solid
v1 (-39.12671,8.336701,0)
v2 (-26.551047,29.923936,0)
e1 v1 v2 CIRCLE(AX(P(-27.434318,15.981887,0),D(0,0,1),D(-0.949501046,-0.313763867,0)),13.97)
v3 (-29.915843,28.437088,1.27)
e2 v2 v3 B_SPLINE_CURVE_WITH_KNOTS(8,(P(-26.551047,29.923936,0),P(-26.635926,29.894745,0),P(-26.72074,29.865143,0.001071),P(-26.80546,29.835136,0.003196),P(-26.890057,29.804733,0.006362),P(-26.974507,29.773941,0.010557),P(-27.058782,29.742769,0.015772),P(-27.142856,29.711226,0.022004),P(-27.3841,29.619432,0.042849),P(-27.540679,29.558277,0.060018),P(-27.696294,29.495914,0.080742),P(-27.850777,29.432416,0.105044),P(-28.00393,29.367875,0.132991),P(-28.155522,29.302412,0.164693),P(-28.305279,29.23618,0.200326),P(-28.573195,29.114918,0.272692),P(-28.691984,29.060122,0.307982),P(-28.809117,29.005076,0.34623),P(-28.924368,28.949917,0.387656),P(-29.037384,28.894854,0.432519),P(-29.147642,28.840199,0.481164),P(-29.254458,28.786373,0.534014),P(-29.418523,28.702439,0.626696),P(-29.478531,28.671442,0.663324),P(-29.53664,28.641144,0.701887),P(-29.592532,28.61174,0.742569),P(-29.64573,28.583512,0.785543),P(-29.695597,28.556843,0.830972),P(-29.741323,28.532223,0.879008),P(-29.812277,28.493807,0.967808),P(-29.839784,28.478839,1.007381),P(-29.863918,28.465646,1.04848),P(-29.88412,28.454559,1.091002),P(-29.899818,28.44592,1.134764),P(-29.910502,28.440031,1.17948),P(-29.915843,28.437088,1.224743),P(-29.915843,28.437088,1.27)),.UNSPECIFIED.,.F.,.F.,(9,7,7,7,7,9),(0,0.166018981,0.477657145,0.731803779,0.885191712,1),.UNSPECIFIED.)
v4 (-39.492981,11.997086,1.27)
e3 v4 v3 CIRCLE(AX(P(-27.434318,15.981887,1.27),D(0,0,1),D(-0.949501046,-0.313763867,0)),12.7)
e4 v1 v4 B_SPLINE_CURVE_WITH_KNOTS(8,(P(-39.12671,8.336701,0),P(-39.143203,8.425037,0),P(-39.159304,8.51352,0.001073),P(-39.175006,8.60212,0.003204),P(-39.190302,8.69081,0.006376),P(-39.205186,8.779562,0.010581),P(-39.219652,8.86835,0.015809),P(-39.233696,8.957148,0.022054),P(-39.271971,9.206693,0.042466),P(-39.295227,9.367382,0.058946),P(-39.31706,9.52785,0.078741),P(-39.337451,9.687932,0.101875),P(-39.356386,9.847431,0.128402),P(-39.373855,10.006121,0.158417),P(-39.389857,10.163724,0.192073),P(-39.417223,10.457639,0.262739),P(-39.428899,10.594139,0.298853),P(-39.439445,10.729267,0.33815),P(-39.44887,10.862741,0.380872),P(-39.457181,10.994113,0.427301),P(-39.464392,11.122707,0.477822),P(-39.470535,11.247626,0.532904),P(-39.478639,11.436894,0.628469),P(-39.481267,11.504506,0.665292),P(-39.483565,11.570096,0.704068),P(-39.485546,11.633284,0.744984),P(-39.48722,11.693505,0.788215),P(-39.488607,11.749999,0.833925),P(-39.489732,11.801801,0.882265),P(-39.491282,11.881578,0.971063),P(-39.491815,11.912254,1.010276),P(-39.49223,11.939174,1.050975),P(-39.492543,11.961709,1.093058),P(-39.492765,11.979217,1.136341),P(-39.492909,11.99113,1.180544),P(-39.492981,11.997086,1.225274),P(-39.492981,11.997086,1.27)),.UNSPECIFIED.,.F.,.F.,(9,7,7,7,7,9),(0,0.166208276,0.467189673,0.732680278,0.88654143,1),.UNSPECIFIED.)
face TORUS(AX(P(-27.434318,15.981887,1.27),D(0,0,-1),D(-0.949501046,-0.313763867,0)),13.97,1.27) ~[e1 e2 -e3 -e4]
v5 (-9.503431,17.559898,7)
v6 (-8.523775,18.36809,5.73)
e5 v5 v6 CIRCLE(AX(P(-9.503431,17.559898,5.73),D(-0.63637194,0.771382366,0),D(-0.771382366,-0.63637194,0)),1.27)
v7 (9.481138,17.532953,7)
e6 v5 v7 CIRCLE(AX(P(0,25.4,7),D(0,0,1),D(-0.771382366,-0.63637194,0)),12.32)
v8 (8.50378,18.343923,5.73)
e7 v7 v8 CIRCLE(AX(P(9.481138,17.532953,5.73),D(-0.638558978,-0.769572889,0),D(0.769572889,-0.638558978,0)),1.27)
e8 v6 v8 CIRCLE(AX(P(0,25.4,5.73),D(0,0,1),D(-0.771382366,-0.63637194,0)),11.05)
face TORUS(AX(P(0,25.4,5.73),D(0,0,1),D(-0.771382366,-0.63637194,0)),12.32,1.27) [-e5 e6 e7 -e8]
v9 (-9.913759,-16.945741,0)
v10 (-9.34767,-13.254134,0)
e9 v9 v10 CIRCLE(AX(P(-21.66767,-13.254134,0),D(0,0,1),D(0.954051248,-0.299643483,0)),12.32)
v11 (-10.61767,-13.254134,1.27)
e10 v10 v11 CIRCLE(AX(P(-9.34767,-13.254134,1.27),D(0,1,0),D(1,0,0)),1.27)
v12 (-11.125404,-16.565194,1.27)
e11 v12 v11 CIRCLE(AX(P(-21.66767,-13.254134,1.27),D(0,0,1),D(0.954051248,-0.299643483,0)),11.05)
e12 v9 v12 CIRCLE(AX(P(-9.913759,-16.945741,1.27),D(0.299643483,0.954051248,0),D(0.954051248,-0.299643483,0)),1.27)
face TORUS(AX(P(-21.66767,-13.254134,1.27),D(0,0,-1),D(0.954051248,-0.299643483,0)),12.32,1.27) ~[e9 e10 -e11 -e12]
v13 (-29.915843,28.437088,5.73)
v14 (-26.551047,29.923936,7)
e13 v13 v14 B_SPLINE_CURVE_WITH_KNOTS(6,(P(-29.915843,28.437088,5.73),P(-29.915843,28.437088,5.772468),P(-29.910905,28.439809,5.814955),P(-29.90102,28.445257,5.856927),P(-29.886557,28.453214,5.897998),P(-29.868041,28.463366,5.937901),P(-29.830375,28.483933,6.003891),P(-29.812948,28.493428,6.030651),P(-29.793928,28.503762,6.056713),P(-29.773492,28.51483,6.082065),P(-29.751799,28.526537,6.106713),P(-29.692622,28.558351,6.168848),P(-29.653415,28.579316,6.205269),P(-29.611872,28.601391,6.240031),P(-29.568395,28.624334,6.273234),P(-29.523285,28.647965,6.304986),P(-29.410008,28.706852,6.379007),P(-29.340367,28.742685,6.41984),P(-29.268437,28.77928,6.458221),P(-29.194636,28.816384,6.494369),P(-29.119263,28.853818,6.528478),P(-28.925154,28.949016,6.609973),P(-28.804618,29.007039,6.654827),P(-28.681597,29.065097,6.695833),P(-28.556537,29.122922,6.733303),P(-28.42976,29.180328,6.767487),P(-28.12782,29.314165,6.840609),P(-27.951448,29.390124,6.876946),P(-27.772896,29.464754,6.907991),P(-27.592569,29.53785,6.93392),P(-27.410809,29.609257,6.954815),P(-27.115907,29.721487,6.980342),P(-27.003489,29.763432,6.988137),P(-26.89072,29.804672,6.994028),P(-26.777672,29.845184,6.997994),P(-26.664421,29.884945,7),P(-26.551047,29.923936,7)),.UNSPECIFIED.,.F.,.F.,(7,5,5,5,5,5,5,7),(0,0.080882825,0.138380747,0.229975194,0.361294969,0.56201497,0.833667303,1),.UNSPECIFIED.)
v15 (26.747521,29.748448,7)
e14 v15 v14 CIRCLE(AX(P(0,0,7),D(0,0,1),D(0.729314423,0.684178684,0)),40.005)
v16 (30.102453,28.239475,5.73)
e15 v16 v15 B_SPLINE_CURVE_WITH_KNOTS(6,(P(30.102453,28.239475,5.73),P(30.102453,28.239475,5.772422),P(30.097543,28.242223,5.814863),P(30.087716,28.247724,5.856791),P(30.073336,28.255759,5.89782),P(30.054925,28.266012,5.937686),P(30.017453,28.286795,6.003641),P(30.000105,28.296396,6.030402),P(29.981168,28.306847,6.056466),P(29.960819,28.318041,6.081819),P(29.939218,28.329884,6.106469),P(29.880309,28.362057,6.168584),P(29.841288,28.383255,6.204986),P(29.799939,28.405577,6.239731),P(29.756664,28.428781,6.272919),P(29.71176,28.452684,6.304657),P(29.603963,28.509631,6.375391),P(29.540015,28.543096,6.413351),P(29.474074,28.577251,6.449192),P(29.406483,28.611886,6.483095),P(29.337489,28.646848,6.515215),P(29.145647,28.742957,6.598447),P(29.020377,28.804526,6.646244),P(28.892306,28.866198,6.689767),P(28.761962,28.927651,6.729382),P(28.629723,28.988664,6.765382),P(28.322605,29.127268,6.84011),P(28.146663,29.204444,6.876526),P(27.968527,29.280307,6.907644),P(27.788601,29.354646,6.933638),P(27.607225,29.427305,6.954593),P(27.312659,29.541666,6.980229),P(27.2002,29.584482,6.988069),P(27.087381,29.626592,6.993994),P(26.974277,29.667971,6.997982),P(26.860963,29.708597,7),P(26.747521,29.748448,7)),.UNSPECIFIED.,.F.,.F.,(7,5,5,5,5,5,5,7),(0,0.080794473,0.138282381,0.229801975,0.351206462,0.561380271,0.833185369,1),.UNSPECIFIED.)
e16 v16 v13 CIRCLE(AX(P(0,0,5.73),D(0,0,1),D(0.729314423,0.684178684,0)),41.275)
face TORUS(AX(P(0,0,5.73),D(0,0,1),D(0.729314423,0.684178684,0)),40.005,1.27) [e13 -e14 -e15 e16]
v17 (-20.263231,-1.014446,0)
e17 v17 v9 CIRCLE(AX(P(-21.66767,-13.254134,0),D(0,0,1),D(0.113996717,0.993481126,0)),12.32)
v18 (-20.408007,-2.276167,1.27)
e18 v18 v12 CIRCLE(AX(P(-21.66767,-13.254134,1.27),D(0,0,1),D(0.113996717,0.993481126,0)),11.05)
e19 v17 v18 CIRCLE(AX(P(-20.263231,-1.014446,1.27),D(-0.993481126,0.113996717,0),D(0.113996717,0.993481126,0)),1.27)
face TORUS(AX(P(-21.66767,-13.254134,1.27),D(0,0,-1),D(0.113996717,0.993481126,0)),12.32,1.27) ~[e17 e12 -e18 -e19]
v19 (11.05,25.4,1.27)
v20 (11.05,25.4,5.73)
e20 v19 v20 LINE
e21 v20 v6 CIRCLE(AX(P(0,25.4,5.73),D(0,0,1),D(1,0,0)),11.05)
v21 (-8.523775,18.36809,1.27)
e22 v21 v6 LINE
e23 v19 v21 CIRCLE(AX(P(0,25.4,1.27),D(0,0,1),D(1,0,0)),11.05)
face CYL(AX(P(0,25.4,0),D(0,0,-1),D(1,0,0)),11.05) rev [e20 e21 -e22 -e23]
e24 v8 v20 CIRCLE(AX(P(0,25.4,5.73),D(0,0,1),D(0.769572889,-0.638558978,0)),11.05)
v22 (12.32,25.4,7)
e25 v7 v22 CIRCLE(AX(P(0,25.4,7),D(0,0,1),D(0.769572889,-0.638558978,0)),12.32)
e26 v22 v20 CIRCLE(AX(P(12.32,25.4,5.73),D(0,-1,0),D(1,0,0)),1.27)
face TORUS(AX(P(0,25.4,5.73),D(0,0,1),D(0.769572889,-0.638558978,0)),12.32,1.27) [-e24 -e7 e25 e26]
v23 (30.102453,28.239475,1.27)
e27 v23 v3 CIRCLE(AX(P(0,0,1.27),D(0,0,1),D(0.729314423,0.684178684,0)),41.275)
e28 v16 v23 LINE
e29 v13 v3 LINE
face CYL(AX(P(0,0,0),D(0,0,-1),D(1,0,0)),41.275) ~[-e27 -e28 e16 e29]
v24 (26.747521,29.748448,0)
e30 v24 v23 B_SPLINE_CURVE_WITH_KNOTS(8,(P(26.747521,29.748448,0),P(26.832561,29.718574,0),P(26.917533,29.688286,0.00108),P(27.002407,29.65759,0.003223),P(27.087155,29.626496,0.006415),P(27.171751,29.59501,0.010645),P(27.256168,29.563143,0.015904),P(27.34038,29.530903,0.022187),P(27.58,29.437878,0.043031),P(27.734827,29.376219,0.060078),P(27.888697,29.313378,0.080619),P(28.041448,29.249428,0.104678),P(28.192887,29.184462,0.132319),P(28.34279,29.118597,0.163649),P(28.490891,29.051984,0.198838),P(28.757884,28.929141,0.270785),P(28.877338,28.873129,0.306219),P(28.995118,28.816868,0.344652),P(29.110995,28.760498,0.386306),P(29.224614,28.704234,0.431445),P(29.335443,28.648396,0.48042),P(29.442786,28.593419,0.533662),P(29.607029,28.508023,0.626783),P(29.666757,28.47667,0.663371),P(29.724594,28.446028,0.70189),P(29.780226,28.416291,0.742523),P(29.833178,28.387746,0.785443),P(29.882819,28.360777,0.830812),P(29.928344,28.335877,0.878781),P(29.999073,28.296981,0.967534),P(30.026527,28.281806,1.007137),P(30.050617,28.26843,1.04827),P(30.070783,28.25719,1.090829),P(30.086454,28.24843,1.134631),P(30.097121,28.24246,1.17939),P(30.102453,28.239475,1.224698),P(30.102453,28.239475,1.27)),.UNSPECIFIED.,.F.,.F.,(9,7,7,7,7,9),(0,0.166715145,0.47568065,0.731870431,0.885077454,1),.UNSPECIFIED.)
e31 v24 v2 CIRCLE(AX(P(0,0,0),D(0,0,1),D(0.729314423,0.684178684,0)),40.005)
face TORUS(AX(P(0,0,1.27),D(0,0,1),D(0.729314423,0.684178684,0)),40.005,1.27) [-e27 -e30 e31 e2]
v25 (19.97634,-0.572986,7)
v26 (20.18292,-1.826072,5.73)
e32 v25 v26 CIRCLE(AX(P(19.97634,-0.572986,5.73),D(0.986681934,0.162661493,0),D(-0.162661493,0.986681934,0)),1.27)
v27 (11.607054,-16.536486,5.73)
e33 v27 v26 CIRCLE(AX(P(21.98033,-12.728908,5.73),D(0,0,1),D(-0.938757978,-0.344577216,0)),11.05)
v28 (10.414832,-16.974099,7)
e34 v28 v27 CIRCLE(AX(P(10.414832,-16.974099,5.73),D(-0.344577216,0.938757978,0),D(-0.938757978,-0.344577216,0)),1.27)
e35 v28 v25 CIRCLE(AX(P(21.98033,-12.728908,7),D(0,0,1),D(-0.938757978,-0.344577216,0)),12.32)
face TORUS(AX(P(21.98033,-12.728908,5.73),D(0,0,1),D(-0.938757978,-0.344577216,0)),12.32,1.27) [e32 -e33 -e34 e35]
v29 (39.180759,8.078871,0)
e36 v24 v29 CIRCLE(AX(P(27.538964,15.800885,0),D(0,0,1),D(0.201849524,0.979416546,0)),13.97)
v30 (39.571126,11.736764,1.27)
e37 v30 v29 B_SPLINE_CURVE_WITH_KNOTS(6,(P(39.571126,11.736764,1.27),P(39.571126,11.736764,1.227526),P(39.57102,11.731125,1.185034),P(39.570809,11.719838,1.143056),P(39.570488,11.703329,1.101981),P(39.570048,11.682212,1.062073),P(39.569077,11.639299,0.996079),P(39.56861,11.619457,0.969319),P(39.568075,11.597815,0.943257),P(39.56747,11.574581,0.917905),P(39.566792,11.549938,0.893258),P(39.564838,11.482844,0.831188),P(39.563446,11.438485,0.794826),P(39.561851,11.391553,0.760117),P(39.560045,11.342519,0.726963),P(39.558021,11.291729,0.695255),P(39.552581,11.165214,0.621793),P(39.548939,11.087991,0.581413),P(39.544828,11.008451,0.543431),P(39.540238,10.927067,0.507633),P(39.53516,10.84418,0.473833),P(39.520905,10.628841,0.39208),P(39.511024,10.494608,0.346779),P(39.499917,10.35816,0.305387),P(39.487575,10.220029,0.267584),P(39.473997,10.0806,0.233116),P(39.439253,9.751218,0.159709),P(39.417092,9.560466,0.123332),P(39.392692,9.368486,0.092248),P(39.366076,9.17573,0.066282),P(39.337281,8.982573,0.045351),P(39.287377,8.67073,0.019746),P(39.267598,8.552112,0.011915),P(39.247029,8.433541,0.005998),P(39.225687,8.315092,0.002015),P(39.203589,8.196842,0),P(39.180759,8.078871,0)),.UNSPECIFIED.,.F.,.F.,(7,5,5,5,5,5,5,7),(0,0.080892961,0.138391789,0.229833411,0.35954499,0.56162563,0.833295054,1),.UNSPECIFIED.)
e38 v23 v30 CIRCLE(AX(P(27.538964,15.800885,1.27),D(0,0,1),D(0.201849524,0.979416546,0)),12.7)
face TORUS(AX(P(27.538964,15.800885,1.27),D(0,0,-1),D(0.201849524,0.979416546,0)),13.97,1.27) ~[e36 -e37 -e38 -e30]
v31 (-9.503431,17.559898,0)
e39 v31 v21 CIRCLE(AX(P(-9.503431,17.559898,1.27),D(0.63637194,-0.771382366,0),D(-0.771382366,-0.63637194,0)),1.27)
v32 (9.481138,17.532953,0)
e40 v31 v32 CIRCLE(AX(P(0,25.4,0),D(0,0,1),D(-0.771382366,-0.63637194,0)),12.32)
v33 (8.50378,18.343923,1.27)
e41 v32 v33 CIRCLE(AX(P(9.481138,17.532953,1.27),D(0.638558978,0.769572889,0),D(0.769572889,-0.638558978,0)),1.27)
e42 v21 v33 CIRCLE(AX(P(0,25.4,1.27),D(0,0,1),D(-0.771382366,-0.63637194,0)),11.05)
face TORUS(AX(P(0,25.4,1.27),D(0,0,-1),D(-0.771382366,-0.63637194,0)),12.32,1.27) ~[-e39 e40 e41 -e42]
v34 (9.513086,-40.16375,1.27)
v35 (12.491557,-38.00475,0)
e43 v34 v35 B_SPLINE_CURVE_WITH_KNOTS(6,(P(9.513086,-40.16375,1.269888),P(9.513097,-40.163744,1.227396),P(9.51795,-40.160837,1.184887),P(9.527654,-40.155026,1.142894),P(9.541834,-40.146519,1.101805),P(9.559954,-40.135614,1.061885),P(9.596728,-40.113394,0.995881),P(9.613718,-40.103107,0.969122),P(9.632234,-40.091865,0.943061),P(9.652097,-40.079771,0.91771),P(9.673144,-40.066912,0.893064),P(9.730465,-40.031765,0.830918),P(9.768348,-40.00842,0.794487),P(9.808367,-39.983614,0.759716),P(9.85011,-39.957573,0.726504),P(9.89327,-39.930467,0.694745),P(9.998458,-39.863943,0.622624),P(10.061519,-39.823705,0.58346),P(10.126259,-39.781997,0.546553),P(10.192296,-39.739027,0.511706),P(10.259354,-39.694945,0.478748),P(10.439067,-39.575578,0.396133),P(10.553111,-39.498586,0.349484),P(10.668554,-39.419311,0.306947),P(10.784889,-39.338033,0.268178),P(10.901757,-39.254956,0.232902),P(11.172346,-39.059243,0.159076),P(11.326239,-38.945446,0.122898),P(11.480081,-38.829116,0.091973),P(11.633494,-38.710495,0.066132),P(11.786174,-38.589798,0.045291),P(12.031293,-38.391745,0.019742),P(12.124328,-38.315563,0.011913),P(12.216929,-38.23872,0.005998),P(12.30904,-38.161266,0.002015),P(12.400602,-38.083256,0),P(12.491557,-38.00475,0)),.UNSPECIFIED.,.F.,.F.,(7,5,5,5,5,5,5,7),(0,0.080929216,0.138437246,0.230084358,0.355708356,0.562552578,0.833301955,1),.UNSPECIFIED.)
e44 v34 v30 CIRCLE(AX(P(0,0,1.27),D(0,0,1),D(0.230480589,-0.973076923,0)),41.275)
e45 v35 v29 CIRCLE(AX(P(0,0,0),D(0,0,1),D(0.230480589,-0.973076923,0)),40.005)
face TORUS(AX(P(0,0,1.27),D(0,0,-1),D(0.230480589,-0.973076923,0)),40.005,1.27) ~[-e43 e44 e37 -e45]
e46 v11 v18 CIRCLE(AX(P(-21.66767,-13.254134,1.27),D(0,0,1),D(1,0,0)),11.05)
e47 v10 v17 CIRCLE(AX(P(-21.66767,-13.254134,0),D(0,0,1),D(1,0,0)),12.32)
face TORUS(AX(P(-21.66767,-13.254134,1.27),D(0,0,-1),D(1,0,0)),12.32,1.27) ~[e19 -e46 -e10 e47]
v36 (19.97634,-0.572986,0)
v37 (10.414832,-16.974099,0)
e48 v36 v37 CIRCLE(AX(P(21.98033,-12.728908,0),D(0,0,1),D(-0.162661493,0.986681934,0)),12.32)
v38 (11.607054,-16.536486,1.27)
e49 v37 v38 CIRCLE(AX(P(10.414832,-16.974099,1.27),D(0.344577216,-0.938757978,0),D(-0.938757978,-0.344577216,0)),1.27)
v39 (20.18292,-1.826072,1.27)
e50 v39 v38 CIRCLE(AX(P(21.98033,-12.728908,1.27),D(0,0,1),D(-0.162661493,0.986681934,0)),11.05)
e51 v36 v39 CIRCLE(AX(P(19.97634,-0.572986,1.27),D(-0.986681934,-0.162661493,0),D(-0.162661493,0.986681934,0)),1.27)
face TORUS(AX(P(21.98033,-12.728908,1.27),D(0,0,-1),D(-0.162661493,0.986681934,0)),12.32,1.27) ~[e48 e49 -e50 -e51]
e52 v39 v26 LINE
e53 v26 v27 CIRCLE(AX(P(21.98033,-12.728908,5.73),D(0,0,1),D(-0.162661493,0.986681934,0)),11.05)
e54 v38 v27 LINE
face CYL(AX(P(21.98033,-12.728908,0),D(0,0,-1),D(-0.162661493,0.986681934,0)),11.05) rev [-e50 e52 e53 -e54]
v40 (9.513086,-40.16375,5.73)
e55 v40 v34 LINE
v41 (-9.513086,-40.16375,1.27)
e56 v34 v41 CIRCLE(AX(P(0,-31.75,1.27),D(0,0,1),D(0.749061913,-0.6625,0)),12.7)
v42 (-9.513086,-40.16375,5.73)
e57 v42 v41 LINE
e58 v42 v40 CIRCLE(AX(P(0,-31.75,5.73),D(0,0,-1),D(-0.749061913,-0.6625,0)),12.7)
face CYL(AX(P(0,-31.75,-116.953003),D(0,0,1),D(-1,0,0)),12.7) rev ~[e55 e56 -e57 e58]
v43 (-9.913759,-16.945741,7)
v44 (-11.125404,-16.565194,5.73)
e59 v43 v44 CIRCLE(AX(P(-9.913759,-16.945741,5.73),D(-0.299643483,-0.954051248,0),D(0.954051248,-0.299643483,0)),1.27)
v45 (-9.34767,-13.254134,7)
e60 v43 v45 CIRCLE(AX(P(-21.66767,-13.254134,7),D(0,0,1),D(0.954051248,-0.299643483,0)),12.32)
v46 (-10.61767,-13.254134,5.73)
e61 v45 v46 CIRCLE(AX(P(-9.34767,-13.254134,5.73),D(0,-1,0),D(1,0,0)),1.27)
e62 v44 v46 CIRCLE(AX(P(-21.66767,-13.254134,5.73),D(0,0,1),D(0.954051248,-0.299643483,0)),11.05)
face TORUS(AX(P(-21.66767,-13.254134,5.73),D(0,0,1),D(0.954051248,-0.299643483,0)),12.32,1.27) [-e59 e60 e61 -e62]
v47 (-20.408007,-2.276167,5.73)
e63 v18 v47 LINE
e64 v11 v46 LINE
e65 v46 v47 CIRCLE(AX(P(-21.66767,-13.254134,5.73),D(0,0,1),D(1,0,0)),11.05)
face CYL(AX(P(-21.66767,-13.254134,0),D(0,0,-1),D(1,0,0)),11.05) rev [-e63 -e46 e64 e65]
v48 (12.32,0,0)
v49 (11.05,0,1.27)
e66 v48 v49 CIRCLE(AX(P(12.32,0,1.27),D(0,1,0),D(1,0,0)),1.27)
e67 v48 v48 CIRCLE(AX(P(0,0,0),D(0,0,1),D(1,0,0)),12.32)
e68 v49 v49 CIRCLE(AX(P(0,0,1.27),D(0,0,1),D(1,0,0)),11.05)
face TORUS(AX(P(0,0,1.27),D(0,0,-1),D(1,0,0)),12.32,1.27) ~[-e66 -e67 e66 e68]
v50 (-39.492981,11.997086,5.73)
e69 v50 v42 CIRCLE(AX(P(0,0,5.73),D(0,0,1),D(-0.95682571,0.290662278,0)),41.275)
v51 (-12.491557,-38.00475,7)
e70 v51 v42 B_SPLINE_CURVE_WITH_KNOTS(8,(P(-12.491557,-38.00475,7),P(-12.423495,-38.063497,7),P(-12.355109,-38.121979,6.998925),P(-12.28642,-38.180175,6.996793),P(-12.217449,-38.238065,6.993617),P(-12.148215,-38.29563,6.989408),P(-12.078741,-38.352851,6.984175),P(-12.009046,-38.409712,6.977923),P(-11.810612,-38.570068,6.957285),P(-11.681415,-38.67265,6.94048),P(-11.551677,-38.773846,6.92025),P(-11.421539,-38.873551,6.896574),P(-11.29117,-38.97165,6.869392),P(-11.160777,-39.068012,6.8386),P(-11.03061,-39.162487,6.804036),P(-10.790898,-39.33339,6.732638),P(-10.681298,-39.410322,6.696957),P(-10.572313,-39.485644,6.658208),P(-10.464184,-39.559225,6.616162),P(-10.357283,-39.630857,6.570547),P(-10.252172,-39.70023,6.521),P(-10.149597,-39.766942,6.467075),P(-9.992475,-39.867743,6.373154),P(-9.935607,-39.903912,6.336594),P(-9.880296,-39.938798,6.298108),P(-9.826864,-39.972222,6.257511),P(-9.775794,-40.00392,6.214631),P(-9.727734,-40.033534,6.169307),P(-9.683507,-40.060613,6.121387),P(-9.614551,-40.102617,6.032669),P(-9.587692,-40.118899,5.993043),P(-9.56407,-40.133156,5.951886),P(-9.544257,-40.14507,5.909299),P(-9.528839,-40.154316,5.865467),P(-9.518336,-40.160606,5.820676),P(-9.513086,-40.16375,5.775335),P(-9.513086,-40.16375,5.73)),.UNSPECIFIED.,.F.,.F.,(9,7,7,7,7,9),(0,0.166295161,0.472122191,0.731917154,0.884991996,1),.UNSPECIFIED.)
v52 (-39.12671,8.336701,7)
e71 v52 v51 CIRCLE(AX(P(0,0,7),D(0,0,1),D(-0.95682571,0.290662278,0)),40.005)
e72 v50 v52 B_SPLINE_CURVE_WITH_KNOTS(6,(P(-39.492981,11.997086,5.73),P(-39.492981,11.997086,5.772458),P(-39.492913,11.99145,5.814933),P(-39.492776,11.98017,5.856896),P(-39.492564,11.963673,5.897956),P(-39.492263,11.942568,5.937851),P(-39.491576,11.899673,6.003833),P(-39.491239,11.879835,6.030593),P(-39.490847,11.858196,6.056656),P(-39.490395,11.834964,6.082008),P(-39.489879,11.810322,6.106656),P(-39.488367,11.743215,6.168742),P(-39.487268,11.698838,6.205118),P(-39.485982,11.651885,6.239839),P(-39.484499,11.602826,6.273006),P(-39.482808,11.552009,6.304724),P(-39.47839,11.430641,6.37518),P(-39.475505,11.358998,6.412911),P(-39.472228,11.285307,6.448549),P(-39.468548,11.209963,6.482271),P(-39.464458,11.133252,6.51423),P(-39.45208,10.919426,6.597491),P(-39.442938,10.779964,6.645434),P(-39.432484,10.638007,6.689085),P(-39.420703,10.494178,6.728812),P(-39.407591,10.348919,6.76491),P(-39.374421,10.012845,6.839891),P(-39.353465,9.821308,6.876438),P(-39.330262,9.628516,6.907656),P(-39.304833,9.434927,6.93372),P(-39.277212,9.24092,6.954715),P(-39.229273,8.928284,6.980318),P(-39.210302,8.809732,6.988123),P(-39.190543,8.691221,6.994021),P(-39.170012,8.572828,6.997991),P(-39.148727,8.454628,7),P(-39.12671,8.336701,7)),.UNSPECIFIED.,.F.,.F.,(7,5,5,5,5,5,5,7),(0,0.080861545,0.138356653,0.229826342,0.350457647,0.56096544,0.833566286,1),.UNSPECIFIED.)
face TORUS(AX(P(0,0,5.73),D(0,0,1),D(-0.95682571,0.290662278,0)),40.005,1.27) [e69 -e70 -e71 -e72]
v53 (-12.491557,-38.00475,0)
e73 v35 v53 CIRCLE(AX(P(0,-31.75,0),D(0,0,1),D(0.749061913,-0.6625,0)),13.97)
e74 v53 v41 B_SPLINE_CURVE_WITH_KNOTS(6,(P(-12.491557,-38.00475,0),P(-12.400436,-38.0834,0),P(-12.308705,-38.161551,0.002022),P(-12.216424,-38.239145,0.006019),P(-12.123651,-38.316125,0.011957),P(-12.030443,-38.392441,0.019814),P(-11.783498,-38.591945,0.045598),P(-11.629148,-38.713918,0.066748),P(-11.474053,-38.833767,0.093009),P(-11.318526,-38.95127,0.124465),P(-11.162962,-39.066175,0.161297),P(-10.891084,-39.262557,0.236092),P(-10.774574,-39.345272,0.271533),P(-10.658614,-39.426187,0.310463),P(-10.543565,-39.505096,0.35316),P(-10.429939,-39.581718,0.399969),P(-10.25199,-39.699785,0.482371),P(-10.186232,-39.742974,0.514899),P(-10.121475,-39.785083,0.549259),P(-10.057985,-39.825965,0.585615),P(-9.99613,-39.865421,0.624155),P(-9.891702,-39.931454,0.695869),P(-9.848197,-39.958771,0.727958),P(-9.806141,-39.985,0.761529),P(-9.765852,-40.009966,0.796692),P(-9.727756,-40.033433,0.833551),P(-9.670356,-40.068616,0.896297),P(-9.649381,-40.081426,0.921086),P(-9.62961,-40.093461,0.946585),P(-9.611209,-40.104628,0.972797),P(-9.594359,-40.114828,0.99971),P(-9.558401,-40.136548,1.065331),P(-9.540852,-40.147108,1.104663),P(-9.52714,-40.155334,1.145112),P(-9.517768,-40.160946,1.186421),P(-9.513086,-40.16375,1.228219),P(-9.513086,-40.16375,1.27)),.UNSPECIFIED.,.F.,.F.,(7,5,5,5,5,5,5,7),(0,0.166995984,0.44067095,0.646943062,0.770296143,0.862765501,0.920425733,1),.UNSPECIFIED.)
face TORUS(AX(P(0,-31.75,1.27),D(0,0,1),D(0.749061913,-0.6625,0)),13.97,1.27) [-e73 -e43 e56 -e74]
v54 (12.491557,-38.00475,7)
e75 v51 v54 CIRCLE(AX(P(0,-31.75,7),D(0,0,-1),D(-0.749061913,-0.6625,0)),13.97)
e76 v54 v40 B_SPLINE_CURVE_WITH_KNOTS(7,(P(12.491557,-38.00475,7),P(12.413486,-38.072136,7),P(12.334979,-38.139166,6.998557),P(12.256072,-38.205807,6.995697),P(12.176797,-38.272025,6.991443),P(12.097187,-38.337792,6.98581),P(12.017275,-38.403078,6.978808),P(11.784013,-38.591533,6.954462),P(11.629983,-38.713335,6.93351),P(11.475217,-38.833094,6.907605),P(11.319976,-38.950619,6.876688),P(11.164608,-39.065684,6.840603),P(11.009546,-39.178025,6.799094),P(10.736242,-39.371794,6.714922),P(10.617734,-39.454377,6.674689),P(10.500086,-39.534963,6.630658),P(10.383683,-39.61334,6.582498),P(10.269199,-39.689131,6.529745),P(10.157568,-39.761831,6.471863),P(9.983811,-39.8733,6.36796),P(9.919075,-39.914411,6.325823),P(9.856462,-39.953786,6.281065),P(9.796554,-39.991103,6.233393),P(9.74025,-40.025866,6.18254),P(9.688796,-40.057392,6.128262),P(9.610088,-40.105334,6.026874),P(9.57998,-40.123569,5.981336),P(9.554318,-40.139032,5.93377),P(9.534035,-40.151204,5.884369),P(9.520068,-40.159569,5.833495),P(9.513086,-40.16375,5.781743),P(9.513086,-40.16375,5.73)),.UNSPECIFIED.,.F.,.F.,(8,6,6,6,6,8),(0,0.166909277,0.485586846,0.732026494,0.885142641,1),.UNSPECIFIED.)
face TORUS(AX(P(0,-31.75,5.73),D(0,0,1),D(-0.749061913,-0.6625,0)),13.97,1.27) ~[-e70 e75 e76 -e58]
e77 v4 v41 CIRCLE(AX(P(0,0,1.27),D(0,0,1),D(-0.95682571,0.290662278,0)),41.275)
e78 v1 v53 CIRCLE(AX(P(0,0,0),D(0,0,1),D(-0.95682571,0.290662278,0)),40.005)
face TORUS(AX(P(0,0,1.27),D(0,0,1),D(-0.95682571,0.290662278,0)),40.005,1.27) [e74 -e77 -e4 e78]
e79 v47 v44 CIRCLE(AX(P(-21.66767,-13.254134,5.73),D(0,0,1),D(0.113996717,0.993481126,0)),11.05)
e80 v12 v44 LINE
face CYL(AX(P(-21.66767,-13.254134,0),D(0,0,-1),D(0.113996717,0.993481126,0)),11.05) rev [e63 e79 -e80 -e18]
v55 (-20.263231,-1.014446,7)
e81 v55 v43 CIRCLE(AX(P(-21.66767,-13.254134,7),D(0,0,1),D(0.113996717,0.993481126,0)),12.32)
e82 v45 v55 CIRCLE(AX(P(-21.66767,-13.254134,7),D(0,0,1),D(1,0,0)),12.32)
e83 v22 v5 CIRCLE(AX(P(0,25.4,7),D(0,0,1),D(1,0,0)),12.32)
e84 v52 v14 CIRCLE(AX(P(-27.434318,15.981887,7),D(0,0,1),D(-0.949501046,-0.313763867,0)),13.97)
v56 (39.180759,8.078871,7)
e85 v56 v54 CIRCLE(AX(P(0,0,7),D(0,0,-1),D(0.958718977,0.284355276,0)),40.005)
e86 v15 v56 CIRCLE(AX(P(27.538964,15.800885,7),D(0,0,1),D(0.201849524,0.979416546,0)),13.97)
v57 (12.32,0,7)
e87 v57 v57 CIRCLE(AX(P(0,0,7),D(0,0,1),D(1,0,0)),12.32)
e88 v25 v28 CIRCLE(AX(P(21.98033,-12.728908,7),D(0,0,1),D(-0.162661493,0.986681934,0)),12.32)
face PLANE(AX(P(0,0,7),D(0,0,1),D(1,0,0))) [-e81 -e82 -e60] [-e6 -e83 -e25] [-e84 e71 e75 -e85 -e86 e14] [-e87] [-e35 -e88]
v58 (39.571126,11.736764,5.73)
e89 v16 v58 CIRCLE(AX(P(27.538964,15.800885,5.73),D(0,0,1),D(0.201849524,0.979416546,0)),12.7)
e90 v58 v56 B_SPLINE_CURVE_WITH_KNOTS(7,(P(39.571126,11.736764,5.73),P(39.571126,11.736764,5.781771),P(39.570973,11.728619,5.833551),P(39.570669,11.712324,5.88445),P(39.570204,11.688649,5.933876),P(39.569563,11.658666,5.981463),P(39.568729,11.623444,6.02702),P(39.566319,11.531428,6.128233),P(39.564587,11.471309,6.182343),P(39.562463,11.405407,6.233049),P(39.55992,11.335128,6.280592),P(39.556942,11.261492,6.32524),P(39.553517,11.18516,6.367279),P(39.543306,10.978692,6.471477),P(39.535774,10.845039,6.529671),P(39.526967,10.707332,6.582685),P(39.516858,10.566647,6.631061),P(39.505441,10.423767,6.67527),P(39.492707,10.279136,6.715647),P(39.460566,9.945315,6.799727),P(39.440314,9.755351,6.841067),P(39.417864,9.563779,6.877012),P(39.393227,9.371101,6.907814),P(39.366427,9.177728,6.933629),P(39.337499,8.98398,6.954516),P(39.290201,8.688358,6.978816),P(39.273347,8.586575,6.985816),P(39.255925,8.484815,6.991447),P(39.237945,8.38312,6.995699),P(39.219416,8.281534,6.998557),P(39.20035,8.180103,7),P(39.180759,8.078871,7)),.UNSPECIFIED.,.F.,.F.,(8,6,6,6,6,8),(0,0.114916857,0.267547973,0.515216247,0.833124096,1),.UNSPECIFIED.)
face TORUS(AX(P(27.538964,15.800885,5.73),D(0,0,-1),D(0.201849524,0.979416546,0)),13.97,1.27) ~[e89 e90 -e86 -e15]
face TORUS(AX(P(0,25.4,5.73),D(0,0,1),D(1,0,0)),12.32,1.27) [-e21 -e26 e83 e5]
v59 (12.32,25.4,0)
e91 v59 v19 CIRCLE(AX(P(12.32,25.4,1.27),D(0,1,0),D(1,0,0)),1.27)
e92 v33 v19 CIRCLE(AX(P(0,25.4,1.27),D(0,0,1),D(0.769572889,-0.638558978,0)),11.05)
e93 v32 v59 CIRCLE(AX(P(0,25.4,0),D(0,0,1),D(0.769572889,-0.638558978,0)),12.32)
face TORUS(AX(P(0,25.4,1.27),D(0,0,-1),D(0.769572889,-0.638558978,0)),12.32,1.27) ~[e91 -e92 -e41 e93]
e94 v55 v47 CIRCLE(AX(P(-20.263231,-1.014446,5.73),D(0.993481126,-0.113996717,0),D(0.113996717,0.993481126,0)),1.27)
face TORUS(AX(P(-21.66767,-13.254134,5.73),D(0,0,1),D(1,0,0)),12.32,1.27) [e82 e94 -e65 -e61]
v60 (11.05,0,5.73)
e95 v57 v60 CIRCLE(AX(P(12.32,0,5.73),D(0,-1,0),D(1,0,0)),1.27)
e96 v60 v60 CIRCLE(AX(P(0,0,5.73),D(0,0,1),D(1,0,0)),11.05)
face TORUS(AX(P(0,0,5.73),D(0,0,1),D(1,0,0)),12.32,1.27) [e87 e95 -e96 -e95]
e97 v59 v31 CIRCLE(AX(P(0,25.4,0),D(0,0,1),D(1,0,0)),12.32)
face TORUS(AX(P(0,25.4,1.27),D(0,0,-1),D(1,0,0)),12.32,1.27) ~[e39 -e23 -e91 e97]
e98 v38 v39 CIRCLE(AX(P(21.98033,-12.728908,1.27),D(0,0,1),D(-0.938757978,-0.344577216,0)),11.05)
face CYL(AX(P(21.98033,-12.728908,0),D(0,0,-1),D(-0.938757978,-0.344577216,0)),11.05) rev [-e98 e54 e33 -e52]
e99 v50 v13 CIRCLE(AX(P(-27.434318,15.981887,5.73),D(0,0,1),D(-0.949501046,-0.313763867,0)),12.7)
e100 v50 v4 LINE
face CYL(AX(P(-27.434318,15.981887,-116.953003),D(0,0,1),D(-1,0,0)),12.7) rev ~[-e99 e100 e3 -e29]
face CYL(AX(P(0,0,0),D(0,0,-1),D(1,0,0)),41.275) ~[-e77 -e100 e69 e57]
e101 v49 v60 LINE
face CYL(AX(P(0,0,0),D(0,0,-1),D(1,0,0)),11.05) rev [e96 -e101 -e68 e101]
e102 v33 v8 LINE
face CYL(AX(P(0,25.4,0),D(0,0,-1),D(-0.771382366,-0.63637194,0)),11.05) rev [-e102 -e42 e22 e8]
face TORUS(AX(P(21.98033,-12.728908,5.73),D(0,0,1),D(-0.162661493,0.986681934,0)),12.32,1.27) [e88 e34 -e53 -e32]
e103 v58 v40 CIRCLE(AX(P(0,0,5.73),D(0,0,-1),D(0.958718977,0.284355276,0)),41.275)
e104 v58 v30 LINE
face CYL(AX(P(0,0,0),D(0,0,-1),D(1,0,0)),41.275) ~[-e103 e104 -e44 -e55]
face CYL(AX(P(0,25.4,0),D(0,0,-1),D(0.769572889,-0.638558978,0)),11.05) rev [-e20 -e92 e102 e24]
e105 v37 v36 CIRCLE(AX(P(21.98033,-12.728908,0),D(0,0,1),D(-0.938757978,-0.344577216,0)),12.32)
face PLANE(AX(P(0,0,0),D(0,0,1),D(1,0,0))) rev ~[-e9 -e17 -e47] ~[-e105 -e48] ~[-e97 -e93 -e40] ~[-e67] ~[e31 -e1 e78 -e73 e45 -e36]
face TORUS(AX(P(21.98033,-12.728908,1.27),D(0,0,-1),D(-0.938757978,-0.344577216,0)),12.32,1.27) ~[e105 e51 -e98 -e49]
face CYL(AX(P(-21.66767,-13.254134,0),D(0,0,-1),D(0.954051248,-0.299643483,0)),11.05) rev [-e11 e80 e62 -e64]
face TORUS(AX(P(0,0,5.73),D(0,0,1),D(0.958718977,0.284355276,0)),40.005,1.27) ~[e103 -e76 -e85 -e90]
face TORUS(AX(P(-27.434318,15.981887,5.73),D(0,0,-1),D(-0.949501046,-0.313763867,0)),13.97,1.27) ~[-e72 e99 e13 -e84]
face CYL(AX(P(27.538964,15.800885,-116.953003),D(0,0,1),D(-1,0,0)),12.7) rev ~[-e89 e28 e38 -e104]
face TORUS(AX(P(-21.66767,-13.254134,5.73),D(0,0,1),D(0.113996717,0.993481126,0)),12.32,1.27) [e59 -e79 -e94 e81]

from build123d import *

# Parameters (mm, degrees)
F0_R     = 41.275
F2_DEPTH = 7
F1_R     = 11.05
F3_DEPTH = 7
F5_D     = 25.4
F6_R     = 1.27
F7_R     = 1.27


with BuildPart() as f2:
    # F0 (on Top) → F2 (new body)
    with BuildSketch(Plane.XY):
        Circle(F0_R)
        Polygon((-0.0418038421, 33.1022357606), (28.6882790118, -16.514914691), (-28.6464751697, -16.5873210696), align=None, mode=Mode.SUBTRACT)
        Polygon((-28.6464751697, -16.5873210696), (28.6882790118, -16.514914691), (-0.0418038421, 33.1022357606), align=None)
    extrude(amount=F2_DEPTH)

    # F1 (on face) → F3 (cut)
    with BuildSketch(Plane.XY):
        with BuildLine():
            Line((28.6882790118, -16.514914691), (20.1829204723, -1.8260724609))
            ThreePointArc((20.1829204723, -1.8260724609), (12.4341023648, -7.1636550444), (11.607054304, -16.5364860685))
            Line((11.607054304, -16.5364860685), (28.6882790118, -16.514914691))
        make_face()
        with BuildLine():
            ThreePointArc((33.0303299663, -12.7289078311), (29.1301944787, -4.303829941), (20.1829204723, -1.8260724609))
            Line((20.1829204723, -1.8260724609), (28.6882790118, -16.514914691))
            Line((28.6882790118, -16.514914691), (11.607054304, -16.5364860685))
            ThreePointArc((11.607054304, -16.5364860685), (23.913954016, -23.6084114059), (33.0303299663, -12.7289078311))
        make_face()
        Circle(F1_R)
        with BuildLine():
            Line((-28.6464751697, -16.5873210696), (-20.4080066394, -2.2761672884))
            ThreePointArc((-20.4080066394, -2.2761672884), (-30.934032144, -19.2738546033), (-11.1254040764, -16.5651942231))
            Line((-11.1254040764, -16.5651942231), (-28.6464751697, -16.5873210696))
        make_face()
        with BuildLine():
            ThreePointArc((-10.6176703624, -13.2541337351), (-13.4207987089, -5.8994340179), (-20.4080066394, -2.2761672884))
            Line((-20.4080066394, -2.2761672884), (-28.6464751697, -16.5873210696))
            Line((-28.6464751697, -16.5873210696), (-11.1254040764, -16.5651942231))
            ThreePointArc((-11.1254040764, -16.5651942231), (-10.7453413419, -14.9290154533), (-10.6176703624, -13.2541337351))
        make_face()
        with BuildLine():
            Line((-0.0418038421, 33.1022357606), (-8.5237751416, 18.3680900649))
            ThreePointArc((-8.5237751416, 18.3680900649), (-0.0156829676, 14.3500111292), (8.5037804211, 18.3439232892))
            Line((8.5037804211, 18.3439232892), (-0.0418038421, 33.1022357606))
        make_face()
        with BuildLine():
            ThreePointArc((8.5037804211, 18.3439232892), (10.3939711769, 21.6492849784), (11.05, 25.4))
            ThreePointArc((11.05, 25.4), (-3.7359593604, 35.7992839973), (-8.5237751416, 18.3680900649))
            Line((-8.5237751416, 18.3680900649), (-0.0418038421, 33.1022357606))
            Line((-0.0418038421, 33.1022357606), (8.5037804211, 18.3439232892))
        make_face()
    extrude(amount=F3_DEPTH, mode=Mode.SUBTRACT)

    # F5 (through all)
    with Locations(Plane(origin=(0, 0, 0), x_dir=(1, 0, 0), z_dir=(0, 0, -1))):
        with Locations((-27.4343179154, -15.9818866383), (27.5389638759, -15.8008850589), (0, 31.75)):
            Hole(F5_D / 2)

    # F6
    f6_edges = [f2.edges().sort_by_distance(p)[0] for p in [
        (0, -19.05, 7),
        (35.717374, -20.685619, 7),
        (16.523378, 9.480531, 7),
        (0.135899, 41.274776, 7),
        (-16.460591, 9.589132, 7),
        (-35.785288, -20.567906, 7),
        (-32.209937, -9.943073, 7),
        (-11.05, 0, 7),
        (32.353606, -8.92133, 7),
        (-8.50378, 32.456077, 7),
    ]]
    fillet(f6_edges, radius=F6_R)

    # F7
    f7_edges = [f2.edges().sort_by_distance(p)[0] for p in [
        (35.717374, -20.685619, 0),
        (16.523378, 9.480531, 0),
        (0.135899, 41.274776, 0),
        (-16.460591, 9.589132, 0),
        (-35.785288, -20.567906, 0),
        (0, -19.05, 0),
        (-32.209937, -9.943073, 0),
        (-11.05, 0, 0),
        (32.353606, -8.92133, 0),
        (-8.50378, 32.456077, 0),
    ]]
    fillet(f7_edges, radius=F7_R)


solid = f2.part
